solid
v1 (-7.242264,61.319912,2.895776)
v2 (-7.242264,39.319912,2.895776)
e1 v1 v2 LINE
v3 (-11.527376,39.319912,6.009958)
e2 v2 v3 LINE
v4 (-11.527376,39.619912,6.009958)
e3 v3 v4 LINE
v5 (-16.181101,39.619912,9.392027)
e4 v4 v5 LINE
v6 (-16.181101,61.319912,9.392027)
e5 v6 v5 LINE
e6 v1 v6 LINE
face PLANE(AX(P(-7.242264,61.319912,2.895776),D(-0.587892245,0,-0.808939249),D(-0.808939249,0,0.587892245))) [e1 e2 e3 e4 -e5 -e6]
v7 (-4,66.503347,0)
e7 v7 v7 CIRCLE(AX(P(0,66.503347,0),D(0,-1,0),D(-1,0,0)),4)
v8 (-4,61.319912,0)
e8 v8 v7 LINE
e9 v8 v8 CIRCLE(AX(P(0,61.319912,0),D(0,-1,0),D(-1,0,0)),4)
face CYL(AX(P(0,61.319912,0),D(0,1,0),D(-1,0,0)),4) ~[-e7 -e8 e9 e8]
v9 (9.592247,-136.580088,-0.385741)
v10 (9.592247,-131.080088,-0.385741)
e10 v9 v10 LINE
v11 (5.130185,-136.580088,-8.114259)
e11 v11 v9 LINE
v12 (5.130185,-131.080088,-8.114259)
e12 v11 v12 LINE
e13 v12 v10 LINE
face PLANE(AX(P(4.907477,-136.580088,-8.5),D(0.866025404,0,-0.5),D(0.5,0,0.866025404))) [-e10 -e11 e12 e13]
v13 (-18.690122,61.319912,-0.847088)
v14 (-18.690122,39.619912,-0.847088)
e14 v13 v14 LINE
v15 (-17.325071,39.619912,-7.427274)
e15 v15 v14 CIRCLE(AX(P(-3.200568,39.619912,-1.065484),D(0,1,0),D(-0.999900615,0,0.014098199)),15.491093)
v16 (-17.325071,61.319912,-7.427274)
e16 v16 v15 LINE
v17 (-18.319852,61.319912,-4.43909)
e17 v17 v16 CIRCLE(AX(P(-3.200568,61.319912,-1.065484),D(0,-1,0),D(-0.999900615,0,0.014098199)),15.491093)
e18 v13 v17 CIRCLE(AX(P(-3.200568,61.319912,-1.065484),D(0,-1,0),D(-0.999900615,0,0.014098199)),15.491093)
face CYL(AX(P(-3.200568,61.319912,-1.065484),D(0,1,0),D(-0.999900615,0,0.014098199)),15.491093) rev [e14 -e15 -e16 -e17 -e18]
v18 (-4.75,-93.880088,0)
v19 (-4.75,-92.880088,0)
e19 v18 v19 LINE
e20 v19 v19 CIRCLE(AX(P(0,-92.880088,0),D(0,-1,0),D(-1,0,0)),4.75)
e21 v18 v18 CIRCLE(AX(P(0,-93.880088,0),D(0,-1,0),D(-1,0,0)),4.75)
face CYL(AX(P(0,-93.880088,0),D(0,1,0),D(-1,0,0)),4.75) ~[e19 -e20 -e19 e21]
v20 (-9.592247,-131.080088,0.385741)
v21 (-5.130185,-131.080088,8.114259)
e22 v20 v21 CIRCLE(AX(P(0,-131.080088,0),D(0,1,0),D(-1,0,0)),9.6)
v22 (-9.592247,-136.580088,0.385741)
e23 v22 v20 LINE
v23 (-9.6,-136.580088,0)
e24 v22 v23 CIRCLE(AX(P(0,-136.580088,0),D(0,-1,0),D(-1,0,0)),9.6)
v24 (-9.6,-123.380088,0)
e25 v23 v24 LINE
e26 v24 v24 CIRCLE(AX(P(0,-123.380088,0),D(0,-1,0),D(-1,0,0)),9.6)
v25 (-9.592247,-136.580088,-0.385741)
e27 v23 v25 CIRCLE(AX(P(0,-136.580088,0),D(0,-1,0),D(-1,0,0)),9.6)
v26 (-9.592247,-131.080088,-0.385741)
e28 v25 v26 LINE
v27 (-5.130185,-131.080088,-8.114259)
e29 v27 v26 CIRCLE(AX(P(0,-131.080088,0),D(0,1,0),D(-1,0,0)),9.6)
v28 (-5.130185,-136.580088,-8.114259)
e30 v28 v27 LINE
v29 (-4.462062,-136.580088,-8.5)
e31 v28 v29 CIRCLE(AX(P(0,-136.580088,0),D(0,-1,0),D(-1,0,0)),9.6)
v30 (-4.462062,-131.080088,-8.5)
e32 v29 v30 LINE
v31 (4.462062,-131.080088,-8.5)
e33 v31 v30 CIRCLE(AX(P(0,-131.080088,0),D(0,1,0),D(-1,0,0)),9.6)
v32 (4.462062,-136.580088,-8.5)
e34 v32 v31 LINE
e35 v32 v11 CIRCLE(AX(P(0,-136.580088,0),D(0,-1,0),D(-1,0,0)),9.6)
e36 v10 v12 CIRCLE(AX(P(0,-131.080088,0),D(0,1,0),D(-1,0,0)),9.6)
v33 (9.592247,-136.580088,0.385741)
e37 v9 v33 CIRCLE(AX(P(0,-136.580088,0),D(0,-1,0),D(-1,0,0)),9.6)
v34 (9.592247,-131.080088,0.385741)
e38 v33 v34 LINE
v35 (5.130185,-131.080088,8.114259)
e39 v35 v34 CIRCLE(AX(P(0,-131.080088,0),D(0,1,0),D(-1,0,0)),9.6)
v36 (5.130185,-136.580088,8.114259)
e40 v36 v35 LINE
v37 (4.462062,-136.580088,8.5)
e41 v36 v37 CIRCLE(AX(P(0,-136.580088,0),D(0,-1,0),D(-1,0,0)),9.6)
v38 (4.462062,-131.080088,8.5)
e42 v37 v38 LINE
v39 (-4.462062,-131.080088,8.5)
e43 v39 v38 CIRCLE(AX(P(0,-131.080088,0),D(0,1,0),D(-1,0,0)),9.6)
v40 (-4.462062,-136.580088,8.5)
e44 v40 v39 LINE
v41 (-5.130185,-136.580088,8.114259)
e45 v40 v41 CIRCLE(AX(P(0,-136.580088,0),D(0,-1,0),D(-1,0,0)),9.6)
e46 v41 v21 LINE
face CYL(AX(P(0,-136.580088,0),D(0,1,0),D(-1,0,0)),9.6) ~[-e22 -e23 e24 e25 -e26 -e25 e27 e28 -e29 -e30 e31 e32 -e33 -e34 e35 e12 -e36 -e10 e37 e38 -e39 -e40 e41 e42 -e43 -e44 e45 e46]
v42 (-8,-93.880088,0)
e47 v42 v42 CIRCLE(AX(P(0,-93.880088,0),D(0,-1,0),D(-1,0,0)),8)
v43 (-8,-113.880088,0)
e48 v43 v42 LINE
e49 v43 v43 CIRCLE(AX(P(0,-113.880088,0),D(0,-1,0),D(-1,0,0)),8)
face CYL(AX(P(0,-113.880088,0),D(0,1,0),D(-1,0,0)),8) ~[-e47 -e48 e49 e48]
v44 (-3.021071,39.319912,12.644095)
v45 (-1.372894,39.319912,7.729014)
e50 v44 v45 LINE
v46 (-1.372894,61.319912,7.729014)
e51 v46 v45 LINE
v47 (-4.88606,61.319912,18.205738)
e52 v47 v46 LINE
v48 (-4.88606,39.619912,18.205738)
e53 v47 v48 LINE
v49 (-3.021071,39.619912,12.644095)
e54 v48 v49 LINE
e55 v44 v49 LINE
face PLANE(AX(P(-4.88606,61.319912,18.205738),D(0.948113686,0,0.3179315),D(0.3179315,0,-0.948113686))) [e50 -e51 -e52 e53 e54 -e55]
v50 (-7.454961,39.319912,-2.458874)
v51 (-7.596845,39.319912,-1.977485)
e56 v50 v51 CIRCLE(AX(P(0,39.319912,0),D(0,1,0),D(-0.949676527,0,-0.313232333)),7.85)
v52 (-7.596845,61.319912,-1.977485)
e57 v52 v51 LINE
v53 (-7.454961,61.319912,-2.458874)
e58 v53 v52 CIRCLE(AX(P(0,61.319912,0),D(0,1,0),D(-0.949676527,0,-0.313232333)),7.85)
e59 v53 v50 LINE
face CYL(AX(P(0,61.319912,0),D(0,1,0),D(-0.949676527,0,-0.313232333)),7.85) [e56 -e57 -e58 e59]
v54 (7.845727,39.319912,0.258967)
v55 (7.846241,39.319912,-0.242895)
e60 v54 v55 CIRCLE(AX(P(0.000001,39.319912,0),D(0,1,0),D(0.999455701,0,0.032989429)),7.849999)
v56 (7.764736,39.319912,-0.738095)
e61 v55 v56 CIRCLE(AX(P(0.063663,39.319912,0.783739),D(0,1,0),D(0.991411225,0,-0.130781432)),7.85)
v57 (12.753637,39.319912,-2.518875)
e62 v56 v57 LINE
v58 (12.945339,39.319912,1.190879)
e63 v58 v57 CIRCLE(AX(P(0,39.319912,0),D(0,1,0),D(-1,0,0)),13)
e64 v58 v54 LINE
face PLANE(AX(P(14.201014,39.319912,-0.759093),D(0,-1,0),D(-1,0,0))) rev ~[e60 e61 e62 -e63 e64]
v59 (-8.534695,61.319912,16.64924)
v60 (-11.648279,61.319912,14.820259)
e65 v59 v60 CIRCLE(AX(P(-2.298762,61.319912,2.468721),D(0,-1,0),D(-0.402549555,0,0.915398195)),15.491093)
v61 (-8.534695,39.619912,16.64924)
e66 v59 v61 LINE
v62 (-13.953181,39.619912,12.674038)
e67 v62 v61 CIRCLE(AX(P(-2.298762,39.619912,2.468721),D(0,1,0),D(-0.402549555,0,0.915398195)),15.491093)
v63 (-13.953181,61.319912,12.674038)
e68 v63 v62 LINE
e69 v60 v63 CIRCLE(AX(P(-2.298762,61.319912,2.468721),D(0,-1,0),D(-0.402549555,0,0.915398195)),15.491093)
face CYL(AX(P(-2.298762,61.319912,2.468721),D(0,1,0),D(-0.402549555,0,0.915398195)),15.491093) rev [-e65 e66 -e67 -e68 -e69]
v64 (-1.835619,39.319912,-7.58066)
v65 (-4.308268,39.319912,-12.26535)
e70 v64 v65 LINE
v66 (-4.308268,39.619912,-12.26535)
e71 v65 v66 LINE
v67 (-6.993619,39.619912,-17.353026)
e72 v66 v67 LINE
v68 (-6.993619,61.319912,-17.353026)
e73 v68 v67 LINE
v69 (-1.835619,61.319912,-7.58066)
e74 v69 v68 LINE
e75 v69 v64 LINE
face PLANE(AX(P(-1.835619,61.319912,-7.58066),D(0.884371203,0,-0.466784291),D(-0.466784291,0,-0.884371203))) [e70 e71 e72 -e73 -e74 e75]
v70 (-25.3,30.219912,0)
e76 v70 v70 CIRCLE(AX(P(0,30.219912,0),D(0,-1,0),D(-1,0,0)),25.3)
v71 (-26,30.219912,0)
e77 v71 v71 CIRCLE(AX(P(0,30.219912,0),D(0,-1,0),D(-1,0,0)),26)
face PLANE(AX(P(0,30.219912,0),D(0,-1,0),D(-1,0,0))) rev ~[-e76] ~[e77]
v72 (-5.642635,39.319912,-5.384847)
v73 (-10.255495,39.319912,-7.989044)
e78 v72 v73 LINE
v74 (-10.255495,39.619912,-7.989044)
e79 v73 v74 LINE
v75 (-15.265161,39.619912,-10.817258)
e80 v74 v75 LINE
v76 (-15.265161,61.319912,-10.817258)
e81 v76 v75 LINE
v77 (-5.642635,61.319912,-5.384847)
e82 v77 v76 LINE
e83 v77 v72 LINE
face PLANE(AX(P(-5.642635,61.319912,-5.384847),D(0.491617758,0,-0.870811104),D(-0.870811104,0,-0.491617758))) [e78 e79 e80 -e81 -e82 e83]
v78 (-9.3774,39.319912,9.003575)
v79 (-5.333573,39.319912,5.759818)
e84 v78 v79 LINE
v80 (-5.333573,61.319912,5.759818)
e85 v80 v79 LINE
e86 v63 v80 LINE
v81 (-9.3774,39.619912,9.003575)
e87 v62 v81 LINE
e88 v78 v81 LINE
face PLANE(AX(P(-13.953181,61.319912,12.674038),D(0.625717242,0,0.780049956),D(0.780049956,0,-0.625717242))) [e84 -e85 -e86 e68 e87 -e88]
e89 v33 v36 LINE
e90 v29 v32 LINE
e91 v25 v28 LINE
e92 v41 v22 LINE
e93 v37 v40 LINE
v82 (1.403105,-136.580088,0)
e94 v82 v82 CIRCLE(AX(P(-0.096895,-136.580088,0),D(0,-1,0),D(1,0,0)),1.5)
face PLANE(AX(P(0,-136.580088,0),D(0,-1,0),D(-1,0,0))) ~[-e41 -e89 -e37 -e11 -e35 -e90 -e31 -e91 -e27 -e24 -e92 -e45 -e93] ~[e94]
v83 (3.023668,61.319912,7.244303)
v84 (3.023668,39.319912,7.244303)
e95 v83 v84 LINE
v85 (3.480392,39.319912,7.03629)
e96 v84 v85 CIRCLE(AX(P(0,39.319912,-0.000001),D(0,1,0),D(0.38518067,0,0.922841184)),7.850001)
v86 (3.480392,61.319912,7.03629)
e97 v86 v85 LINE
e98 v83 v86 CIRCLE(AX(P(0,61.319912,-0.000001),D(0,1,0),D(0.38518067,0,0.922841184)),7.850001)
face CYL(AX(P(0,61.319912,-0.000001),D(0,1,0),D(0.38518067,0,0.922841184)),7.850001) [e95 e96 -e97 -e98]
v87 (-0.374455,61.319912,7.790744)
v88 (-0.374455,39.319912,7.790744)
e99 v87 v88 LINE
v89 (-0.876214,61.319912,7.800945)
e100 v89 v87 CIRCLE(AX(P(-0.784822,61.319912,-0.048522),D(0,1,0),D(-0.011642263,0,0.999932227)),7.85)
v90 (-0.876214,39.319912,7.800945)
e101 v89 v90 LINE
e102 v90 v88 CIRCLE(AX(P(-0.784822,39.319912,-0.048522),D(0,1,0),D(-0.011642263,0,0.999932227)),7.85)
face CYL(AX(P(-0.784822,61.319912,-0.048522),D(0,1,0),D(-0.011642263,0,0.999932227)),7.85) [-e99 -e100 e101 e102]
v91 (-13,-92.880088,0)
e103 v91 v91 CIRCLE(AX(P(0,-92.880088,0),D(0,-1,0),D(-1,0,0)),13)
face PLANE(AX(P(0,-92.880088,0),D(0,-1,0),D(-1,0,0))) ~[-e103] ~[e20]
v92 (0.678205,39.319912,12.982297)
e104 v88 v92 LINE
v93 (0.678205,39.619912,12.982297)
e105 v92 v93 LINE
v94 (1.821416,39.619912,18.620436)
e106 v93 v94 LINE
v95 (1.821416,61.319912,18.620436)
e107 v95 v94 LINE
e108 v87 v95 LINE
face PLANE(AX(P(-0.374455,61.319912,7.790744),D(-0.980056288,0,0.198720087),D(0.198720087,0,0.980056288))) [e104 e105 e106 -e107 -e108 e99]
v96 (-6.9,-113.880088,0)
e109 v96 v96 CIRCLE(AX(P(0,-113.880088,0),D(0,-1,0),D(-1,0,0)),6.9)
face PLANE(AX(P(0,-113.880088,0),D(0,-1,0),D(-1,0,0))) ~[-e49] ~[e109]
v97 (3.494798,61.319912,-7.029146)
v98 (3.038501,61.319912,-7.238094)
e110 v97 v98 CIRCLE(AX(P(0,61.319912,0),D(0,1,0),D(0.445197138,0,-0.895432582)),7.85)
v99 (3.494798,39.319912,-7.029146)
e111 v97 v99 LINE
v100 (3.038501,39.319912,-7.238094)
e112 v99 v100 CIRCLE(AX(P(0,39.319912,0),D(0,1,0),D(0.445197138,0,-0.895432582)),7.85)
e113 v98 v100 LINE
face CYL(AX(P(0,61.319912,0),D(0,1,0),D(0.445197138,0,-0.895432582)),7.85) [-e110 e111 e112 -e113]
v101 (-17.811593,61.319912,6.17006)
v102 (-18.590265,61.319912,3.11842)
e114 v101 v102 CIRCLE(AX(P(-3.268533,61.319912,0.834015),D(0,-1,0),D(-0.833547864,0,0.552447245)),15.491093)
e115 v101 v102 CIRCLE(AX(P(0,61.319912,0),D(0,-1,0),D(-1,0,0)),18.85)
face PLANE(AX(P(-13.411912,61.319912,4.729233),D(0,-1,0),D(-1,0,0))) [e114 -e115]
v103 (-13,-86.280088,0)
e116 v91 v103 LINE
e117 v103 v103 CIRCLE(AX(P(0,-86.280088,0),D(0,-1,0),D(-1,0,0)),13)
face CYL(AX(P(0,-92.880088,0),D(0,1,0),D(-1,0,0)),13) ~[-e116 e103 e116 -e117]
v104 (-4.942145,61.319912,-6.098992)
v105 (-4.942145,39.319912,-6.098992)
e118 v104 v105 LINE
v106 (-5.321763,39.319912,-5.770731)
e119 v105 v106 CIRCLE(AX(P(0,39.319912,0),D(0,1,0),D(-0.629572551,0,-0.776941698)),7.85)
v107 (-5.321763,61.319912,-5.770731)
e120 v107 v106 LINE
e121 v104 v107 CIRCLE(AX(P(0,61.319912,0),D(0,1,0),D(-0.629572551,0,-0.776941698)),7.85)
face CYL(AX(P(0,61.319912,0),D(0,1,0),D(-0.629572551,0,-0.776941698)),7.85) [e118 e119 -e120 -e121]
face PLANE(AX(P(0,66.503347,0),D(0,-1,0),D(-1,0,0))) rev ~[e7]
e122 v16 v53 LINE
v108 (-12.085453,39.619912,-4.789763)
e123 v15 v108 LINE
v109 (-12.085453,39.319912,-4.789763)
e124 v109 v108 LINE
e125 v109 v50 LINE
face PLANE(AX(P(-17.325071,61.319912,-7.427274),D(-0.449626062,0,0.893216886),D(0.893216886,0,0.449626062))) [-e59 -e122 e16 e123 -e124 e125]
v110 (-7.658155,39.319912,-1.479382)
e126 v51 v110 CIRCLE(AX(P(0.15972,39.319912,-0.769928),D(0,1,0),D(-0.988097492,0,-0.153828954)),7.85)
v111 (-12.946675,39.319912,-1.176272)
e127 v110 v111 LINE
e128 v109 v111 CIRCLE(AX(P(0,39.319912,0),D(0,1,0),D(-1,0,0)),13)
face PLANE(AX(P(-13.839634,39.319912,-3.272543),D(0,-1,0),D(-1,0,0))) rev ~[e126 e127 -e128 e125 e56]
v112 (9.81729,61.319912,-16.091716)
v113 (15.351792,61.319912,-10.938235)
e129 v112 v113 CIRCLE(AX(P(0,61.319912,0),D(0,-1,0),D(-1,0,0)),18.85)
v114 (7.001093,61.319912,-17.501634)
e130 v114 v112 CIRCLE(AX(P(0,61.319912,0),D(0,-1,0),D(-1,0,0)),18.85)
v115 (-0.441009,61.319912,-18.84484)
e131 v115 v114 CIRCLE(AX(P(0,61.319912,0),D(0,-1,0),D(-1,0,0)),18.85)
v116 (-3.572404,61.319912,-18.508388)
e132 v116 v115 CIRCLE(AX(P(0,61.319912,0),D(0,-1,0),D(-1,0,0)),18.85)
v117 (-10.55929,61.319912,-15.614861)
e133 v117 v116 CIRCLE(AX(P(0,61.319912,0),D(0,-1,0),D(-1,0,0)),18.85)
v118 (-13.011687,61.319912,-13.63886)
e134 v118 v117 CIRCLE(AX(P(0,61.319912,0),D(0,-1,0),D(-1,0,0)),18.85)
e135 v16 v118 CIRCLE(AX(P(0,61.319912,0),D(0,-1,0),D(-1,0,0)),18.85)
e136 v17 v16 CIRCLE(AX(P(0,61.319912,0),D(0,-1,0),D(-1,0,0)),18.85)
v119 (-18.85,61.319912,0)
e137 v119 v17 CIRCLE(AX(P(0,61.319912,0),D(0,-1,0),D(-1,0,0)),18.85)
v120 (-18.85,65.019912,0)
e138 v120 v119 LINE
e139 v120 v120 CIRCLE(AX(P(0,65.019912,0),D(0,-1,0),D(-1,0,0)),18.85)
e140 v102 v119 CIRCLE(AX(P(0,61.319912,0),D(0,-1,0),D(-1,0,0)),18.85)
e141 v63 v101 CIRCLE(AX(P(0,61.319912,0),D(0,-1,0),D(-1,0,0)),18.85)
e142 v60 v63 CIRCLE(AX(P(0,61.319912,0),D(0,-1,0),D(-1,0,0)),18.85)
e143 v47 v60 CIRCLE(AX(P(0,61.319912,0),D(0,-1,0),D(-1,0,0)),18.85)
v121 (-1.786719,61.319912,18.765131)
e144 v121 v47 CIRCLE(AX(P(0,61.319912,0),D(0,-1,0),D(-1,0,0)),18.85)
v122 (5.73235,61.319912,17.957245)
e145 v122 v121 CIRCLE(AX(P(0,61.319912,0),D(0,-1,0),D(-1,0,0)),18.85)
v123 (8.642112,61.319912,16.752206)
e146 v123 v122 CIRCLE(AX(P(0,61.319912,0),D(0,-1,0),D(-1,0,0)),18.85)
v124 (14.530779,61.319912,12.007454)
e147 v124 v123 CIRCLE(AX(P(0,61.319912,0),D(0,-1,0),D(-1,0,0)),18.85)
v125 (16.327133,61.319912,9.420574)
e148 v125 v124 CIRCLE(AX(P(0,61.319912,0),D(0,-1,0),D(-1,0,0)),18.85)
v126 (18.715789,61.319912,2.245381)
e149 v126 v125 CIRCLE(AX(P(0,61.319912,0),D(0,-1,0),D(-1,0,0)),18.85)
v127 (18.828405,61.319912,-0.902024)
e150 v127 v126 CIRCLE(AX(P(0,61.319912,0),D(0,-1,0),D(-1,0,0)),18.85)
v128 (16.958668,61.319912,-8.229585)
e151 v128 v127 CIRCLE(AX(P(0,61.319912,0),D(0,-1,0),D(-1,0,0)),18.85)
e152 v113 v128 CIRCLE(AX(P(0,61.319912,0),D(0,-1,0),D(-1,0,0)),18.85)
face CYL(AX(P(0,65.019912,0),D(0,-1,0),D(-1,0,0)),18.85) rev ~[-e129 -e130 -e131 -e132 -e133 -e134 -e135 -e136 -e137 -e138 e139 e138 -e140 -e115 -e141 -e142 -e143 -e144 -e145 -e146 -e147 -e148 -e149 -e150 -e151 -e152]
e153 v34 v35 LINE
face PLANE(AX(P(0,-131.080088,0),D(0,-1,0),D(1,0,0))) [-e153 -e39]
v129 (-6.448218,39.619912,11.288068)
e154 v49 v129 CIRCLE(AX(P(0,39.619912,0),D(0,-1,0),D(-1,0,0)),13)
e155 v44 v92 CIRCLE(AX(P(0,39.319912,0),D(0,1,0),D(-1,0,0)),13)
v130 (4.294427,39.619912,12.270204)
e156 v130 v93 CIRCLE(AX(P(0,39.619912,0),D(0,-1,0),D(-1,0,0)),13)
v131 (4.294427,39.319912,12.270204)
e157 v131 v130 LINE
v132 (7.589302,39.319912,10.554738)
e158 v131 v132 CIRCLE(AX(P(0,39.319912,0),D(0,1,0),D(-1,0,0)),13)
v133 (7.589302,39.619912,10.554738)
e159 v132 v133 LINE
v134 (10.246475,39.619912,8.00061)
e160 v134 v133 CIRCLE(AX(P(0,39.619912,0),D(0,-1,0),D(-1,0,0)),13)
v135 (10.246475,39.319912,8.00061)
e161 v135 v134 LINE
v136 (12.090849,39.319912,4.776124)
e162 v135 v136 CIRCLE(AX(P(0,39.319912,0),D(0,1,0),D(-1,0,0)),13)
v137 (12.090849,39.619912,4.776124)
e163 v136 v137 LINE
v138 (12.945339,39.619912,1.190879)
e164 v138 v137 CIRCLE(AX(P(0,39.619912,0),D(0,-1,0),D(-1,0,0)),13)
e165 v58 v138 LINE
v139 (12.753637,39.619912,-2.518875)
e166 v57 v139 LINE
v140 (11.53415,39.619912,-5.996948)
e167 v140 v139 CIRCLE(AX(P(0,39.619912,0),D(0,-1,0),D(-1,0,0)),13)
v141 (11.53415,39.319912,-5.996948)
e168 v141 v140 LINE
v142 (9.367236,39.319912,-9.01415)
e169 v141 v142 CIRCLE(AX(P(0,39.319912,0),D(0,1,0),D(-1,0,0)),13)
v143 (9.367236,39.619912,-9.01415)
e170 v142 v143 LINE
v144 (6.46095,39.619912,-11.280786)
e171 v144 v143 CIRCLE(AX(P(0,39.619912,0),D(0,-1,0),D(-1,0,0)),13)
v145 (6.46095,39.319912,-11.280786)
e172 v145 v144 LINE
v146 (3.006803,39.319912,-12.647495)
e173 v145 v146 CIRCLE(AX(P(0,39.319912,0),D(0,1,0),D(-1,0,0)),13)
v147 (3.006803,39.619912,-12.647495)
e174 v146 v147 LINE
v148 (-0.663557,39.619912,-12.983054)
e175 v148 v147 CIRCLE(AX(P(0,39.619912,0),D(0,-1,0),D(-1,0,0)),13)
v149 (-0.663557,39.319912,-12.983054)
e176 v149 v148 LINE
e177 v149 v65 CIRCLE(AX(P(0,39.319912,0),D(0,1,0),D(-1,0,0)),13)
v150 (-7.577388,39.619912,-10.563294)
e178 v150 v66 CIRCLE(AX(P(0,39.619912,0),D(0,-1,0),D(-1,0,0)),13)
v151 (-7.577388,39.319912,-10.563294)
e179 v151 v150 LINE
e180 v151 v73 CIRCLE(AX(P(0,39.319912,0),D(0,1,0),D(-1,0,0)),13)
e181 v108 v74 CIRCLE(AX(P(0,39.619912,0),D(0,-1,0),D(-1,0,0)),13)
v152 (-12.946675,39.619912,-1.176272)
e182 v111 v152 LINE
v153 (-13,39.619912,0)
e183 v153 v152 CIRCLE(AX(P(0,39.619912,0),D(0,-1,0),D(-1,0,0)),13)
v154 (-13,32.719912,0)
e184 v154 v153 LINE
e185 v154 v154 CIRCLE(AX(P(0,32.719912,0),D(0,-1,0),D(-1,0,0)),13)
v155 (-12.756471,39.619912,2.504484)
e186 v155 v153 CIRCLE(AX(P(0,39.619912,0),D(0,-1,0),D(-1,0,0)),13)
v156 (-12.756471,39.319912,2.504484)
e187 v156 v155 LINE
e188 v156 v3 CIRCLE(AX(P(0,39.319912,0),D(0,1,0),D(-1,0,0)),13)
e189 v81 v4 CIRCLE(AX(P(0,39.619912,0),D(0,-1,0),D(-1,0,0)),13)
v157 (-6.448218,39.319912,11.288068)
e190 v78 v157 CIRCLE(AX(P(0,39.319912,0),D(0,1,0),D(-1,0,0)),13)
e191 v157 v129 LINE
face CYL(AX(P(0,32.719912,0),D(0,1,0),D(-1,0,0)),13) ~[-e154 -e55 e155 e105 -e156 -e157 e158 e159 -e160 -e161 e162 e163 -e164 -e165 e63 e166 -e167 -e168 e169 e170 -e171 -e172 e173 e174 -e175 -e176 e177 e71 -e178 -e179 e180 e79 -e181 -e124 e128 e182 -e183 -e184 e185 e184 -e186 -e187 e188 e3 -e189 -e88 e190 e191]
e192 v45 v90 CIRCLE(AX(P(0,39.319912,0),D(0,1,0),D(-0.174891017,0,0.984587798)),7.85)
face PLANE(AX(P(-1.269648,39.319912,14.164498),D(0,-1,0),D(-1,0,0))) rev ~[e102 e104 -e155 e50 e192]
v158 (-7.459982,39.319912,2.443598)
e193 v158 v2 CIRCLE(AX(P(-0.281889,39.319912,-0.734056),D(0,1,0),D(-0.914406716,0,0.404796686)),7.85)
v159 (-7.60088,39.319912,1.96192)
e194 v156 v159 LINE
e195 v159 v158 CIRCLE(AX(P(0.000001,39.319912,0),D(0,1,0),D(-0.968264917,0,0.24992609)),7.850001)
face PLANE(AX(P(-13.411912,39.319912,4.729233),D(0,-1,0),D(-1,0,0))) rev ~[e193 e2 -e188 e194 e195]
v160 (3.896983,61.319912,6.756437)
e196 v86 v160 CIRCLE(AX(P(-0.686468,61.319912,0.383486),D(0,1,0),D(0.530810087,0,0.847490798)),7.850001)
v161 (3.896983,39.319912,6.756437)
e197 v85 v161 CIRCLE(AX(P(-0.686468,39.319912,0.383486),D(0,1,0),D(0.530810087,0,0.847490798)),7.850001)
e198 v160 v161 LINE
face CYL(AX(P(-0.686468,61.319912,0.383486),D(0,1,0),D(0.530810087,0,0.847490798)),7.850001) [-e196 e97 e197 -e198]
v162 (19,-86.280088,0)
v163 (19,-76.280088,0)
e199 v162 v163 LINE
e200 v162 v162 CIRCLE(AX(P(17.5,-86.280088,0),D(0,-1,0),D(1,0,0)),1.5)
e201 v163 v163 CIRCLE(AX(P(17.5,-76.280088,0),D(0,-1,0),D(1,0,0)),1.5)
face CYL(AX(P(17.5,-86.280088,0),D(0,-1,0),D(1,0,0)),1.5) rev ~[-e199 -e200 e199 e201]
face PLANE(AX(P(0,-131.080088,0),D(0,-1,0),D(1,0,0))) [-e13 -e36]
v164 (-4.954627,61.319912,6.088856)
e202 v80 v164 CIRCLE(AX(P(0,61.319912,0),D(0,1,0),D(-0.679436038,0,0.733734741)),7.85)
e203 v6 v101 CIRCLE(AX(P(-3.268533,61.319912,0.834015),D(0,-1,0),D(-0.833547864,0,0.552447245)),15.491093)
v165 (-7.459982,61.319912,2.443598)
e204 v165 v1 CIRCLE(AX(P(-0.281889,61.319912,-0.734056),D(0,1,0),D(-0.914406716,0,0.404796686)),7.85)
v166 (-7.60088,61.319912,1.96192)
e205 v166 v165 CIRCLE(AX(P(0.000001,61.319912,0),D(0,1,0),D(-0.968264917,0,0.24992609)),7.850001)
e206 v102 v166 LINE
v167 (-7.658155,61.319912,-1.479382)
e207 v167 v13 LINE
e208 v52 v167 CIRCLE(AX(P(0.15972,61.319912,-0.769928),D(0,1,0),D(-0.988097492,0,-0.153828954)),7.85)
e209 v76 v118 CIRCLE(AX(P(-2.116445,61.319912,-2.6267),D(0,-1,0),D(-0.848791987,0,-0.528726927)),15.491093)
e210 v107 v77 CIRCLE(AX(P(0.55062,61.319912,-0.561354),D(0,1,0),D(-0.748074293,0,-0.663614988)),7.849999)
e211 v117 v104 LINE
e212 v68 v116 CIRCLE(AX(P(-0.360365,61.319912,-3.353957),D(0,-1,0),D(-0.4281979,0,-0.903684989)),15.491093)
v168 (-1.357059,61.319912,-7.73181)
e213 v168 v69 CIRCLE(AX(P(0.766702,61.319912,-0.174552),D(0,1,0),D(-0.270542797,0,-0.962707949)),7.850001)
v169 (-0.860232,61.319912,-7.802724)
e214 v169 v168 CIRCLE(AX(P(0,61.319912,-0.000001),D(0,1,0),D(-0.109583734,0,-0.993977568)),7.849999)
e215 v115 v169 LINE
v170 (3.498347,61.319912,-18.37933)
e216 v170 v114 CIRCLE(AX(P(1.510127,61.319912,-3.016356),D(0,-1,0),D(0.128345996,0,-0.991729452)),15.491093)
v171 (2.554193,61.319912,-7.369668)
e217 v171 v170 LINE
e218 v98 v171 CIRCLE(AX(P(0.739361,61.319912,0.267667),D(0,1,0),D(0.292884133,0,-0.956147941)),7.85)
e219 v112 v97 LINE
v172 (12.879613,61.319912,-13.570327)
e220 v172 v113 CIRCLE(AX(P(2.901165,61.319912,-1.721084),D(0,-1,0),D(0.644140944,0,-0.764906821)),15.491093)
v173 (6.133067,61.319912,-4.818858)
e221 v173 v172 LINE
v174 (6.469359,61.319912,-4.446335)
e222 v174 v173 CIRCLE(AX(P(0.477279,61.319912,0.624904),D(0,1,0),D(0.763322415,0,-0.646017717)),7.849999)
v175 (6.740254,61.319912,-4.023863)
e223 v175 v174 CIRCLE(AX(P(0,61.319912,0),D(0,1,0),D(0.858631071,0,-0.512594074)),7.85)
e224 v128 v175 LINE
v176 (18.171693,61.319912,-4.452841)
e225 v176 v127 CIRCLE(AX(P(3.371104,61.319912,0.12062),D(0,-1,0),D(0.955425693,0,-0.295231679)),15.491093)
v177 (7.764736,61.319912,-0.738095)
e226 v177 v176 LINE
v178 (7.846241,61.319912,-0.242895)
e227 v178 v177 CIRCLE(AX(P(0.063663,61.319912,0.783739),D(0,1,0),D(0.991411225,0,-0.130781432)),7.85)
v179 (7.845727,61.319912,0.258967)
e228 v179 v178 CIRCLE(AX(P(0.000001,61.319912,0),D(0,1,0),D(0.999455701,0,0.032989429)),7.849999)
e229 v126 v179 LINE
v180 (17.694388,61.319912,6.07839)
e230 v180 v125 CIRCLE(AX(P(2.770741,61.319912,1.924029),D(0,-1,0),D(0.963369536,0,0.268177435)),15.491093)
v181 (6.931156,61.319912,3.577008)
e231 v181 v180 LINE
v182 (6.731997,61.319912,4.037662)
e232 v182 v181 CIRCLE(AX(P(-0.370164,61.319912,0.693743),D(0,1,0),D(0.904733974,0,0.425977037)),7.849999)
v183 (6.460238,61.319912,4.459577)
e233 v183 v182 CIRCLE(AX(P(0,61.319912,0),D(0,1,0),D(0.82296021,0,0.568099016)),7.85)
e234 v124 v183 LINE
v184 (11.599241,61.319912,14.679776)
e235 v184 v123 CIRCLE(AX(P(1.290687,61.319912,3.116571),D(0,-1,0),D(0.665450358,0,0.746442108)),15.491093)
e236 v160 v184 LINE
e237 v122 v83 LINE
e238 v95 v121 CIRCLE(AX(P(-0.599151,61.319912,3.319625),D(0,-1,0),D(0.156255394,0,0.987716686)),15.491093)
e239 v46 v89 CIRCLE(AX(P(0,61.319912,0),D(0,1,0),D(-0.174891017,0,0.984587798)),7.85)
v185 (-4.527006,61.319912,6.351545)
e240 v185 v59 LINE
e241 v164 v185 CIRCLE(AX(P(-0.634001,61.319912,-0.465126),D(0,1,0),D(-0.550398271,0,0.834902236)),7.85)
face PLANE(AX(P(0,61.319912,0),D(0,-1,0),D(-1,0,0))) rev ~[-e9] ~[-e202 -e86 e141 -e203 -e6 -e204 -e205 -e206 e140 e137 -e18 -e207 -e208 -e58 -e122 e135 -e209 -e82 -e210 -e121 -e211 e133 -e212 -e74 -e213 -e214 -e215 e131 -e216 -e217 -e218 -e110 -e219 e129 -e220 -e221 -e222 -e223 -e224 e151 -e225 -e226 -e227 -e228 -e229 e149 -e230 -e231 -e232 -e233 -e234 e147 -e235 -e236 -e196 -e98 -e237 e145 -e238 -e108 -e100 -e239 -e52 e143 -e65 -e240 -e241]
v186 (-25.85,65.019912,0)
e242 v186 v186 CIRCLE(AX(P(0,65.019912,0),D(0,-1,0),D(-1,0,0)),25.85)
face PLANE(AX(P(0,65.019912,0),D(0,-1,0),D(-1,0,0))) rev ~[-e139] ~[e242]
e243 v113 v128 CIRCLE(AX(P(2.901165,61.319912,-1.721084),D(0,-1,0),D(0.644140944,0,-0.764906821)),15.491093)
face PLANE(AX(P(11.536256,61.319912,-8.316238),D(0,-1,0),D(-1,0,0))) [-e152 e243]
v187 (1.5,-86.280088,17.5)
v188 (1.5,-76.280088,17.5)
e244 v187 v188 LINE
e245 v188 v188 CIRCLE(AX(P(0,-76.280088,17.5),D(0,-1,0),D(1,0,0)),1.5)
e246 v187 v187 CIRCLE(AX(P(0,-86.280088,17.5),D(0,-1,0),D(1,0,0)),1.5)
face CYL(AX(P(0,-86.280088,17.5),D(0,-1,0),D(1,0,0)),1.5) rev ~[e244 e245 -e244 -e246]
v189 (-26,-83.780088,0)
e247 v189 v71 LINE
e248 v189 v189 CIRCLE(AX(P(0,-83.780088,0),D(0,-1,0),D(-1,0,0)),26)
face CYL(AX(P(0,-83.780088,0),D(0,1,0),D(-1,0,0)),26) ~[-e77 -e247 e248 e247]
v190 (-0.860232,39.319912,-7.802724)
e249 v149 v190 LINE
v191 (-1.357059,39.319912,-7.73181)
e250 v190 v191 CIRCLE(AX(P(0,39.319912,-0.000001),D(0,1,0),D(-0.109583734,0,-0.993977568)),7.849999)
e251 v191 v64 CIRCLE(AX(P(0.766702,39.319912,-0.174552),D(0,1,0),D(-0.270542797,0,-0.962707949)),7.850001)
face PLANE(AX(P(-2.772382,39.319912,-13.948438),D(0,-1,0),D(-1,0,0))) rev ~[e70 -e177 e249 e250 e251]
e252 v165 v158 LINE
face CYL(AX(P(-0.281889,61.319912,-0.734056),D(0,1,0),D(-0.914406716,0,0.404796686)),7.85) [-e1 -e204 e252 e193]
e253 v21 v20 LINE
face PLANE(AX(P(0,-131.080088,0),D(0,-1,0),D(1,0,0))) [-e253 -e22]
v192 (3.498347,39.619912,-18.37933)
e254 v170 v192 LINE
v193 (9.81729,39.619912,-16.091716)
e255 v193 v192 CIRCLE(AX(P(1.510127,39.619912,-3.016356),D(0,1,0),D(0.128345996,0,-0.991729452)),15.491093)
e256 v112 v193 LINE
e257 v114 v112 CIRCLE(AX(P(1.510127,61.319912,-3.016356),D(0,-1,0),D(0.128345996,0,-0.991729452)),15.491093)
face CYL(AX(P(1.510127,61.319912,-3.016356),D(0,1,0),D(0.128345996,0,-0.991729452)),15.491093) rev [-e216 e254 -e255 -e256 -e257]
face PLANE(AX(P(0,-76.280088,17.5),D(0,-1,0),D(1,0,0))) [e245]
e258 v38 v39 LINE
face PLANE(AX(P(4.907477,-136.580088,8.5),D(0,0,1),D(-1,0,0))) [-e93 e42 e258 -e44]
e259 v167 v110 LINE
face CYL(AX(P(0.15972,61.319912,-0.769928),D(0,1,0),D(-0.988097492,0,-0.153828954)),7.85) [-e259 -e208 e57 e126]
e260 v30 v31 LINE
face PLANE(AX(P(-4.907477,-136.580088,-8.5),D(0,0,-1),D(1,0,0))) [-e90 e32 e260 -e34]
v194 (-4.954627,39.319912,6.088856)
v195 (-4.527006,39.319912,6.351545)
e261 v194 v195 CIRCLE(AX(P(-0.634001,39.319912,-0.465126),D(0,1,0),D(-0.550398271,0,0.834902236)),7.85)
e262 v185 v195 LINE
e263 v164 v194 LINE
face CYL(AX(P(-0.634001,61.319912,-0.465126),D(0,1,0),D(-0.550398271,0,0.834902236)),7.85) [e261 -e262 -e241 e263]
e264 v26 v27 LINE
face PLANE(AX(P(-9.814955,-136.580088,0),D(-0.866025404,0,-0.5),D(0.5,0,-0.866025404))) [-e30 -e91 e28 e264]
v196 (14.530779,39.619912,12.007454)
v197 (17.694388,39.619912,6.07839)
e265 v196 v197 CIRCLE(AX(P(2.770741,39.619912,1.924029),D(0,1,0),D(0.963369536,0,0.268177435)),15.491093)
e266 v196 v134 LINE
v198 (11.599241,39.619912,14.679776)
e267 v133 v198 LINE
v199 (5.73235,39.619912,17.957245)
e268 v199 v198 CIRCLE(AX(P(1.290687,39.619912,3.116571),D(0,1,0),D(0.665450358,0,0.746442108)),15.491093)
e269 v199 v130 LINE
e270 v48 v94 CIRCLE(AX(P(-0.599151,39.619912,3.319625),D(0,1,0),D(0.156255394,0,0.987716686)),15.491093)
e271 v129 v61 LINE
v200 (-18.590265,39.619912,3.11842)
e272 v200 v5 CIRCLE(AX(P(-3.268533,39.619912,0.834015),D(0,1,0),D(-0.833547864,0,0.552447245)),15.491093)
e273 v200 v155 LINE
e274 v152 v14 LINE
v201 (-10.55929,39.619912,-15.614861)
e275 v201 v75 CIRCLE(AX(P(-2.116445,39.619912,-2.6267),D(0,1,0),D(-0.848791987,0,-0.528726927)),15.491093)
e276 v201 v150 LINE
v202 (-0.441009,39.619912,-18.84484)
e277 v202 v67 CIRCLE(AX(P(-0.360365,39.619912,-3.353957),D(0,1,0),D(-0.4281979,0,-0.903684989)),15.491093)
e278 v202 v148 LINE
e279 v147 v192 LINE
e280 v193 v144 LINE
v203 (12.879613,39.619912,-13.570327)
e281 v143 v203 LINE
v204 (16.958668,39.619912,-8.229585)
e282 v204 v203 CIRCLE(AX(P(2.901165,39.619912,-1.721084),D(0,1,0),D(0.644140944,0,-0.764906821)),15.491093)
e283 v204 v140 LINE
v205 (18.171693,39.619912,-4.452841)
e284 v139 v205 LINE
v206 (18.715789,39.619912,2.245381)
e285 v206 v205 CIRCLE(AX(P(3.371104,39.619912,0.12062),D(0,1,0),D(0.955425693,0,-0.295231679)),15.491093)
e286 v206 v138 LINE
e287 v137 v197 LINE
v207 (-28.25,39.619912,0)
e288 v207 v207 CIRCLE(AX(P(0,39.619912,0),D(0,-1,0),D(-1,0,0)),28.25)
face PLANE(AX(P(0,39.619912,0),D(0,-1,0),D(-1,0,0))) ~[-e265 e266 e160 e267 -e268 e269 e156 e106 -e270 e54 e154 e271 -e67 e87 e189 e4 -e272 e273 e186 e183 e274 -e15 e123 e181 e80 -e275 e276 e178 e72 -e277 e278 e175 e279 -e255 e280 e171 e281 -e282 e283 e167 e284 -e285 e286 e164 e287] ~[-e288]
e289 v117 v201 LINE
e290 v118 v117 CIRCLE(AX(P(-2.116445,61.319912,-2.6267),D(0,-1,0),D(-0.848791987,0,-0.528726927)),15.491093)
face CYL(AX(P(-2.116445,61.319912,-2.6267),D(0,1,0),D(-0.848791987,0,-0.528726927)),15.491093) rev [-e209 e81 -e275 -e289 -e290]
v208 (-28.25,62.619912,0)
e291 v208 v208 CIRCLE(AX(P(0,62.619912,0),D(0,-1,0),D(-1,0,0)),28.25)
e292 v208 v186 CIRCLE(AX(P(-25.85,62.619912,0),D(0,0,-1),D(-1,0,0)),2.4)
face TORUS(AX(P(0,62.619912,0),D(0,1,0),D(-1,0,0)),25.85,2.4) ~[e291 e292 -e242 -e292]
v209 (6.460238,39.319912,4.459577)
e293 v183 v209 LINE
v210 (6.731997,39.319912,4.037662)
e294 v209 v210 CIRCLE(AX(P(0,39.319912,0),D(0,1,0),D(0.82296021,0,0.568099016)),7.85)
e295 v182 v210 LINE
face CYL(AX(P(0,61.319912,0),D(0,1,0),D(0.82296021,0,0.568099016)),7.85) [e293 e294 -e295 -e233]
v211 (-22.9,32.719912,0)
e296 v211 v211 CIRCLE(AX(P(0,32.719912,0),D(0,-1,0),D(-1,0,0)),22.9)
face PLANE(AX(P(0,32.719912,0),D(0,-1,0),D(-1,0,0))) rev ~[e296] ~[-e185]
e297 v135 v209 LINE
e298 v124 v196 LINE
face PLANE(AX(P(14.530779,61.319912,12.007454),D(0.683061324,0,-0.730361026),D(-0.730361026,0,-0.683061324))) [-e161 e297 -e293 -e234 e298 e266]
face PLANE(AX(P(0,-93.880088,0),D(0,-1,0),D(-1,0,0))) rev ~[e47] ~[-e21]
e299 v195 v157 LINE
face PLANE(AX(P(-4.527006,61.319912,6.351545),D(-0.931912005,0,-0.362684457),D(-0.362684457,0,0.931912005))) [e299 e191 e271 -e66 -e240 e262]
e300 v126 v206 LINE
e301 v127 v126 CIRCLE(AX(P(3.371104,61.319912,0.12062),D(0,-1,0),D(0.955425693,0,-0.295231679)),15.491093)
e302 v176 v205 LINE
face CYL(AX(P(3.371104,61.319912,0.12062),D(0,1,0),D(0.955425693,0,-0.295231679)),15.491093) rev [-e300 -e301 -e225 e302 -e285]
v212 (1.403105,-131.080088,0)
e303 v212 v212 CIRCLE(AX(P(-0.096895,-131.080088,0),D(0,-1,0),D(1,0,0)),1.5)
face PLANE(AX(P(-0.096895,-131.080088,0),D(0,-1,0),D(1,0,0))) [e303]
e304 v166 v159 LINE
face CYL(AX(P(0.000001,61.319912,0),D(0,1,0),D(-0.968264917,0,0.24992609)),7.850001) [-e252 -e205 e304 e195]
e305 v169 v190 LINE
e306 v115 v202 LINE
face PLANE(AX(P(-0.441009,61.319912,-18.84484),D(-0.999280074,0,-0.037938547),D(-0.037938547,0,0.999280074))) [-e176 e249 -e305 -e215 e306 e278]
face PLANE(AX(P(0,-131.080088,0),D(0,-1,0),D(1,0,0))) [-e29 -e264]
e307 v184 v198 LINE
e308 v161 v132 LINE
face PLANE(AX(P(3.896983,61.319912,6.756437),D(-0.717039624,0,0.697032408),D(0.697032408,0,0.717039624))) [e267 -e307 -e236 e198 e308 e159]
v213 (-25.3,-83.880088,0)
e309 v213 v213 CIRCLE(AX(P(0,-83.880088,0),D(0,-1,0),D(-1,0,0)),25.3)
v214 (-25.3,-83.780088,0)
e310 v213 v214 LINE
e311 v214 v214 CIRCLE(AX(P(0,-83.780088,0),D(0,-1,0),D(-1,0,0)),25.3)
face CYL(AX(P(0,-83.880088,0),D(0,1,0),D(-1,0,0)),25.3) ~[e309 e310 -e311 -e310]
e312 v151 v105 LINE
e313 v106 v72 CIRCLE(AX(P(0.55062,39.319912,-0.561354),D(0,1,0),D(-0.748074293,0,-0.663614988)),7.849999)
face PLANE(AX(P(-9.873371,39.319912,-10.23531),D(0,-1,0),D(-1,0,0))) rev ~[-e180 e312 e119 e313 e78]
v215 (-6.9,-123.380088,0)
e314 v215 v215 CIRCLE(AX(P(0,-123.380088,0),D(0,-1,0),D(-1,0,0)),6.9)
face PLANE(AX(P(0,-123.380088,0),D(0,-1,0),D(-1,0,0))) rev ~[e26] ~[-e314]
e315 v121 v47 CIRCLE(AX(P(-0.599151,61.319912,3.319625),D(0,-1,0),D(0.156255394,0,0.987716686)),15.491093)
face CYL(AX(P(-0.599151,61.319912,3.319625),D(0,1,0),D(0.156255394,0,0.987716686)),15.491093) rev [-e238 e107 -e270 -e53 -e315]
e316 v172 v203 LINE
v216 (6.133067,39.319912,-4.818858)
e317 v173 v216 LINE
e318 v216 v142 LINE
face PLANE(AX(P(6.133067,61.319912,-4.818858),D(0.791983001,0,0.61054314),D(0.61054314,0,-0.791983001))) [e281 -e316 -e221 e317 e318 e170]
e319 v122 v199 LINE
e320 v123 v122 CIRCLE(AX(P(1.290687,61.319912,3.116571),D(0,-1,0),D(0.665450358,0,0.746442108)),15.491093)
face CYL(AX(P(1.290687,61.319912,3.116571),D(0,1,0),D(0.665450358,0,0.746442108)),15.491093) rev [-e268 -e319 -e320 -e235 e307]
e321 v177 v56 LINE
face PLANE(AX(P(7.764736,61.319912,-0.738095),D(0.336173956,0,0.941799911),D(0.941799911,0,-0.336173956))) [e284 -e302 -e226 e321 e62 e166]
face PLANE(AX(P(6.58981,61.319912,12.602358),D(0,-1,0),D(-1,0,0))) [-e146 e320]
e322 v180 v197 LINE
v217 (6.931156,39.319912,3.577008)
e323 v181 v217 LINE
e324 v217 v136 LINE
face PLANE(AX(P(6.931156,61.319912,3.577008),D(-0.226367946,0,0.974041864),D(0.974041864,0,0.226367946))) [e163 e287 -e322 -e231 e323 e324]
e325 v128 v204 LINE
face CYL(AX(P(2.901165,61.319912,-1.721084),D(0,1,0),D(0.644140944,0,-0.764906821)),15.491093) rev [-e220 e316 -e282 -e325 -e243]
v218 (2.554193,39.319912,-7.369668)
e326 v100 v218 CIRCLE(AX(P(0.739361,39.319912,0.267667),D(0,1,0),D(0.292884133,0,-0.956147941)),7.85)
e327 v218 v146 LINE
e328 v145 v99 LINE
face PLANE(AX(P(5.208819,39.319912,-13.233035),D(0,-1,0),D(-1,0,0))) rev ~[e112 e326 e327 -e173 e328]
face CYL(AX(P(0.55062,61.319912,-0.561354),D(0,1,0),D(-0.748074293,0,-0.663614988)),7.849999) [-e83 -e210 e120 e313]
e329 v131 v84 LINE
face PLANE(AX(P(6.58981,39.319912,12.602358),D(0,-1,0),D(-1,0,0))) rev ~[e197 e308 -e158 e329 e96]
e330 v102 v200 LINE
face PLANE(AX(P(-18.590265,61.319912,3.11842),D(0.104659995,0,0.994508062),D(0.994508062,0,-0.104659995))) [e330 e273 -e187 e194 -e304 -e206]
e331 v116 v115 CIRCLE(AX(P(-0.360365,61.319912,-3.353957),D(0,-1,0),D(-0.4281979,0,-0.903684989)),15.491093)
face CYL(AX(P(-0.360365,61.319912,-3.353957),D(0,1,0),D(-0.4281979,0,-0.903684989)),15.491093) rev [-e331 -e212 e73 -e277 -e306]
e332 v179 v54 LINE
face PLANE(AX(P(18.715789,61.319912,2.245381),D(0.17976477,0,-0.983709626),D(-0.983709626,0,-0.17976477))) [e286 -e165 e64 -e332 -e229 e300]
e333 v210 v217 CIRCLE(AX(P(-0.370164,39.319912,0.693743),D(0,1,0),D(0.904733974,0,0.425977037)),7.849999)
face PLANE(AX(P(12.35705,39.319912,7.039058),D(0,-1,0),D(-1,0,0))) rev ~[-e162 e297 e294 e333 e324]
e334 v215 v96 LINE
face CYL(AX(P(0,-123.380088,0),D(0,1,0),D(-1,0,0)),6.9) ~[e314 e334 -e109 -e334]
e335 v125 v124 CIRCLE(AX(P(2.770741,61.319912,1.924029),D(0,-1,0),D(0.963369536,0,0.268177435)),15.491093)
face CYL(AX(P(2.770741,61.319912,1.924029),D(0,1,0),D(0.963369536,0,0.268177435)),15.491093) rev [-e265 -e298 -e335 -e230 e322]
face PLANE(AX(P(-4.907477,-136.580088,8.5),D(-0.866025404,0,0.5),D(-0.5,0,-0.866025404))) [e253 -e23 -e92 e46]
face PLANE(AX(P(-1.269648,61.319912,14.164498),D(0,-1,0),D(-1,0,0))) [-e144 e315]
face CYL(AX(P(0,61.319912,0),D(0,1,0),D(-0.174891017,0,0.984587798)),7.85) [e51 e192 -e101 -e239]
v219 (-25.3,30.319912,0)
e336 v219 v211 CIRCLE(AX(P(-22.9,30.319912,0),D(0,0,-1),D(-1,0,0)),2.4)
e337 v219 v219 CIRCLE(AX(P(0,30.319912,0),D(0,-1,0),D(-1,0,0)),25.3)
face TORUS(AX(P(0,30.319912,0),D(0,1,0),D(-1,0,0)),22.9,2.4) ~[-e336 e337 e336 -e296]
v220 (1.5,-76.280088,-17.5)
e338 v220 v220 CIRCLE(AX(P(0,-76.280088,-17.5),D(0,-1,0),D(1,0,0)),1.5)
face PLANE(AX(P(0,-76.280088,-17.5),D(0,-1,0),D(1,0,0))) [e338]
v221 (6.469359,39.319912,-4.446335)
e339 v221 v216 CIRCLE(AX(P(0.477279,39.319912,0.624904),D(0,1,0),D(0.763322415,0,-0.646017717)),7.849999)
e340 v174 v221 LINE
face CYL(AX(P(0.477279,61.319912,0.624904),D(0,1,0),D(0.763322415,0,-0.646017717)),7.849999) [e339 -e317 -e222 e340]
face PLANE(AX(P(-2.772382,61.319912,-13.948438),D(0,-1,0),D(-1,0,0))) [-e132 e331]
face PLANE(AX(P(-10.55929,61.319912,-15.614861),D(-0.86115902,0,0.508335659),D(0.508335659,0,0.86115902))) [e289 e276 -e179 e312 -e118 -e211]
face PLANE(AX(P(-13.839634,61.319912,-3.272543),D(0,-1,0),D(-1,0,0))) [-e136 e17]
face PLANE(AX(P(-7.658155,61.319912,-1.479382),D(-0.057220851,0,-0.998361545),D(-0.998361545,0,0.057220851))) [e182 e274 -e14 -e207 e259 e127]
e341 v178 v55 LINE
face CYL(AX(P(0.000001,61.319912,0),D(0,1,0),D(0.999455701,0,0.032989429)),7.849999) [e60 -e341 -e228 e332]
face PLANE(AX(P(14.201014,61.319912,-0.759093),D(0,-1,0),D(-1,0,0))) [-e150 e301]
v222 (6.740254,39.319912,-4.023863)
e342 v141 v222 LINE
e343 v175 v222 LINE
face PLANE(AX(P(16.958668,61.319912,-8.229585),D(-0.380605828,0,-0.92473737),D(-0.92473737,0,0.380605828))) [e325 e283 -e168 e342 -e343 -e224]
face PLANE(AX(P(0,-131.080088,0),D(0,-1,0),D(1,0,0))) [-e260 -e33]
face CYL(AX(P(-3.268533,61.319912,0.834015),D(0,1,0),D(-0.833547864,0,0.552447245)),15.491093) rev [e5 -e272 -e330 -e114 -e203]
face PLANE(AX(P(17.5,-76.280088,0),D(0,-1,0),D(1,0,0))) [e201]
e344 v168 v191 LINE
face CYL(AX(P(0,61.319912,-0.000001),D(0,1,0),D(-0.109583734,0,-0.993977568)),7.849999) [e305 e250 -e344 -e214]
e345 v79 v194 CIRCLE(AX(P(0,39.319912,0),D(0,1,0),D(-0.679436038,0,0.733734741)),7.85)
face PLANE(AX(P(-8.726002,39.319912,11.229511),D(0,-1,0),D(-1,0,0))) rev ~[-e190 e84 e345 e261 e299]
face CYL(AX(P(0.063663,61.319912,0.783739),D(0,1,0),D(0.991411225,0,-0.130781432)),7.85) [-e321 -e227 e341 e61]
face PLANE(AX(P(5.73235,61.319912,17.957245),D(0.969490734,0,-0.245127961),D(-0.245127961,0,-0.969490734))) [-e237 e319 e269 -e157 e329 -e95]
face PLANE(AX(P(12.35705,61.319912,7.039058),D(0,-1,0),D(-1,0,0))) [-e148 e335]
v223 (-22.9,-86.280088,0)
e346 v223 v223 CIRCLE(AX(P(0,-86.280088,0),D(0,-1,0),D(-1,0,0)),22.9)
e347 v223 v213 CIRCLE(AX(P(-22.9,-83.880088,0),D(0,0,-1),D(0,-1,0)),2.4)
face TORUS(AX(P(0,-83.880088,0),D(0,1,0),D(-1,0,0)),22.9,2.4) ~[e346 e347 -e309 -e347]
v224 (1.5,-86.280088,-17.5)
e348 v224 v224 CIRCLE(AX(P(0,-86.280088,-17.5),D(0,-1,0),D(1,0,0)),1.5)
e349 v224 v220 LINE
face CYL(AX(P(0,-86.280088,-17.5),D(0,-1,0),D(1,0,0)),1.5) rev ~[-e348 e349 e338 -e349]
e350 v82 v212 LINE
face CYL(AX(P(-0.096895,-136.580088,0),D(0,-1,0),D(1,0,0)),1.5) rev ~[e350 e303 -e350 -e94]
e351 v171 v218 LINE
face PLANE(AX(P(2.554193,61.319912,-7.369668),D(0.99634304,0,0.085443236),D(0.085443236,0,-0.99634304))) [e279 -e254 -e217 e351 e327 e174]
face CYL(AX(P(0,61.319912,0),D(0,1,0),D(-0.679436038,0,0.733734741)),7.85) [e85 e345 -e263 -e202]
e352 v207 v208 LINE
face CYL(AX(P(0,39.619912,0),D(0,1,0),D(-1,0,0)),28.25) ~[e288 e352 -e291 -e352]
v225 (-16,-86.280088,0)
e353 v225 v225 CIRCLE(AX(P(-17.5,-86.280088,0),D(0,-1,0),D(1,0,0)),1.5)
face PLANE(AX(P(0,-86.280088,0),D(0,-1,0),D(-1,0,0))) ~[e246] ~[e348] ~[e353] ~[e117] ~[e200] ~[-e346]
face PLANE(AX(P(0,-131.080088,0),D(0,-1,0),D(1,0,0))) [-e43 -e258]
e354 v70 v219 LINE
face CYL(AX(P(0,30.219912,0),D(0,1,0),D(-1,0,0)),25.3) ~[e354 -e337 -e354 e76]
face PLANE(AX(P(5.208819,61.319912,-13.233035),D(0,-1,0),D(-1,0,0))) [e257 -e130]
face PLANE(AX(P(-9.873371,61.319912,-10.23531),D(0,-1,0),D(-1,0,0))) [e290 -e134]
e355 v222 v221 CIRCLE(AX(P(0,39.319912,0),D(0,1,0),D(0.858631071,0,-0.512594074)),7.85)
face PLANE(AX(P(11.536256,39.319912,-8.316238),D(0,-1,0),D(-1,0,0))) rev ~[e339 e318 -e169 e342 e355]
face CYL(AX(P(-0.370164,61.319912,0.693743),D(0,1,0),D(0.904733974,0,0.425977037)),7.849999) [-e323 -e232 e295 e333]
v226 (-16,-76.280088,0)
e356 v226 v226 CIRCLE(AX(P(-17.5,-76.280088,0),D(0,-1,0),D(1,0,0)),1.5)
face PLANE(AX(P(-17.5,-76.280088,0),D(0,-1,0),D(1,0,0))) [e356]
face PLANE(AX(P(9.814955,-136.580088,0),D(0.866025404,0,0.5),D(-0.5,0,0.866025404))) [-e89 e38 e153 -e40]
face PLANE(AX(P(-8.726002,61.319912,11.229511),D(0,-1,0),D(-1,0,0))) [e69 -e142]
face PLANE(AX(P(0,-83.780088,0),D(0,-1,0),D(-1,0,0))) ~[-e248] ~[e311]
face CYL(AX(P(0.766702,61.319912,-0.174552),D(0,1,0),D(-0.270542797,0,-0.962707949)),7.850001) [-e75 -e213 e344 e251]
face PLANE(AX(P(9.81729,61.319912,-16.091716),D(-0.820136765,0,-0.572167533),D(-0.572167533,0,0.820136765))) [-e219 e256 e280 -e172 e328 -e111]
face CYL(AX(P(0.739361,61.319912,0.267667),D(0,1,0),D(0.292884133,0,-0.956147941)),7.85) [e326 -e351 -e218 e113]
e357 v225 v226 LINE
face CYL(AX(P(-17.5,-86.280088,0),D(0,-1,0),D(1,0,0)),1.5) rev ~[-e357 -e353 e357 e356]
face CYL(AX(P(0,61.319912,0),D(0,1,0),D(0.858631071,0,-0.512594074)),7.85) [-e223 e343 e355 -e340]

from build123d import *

# Parameters (mm, degrees)
CORTAR_EXTRUIR1_DEPTH = 22
CROQUIS5_OUTSIDE_W    = 102.148
CROQUIS5_OUTSIDE_H    = 102.148
CROQUIS5_OUTSIDE_R    = 1.5
CORTAR_EXTRUIR2_DEPTH = 5.5
CROQUIS6_R            = 1.5
CORTAR_EXTRUIR3_DEPTH = 10


with BuildPart() as part:
    # Croquis3 → Revolución1 (revolve)
    with BuildSketch(Plane.XY):
        with BuildLine():
            Line((-25.85, 65.019911999), (-18.85, 65.019911999))
            Line((-18.85, 65.019911999), (-18.85, 61.319911999))
            Line((-18.85, 61.319911999), (-4, 61.319911999))
            Line((-4, 61.319911999), (-4, 66.503346961))
            Line((-4, 66.503346961), (0, 66.503346961))
            Line((0, 66.503346961), (0, -136.580088001))
            Line((0, -136.580088001), (-9.6, -136.580088001))
            Line((-9.6, -136.580088001), (-9.6, -123.380088001))
            Line((-9.6, -123.380088001), (-6.9, -123.380088001))
            Line((-6.9, -123.380088001), (-6.9, -113.880088001))
            Line((-6.9, -113.880088001), (-8, -113.880088001))
            Line((-8, -113.880088001), (-8, -93.880088001))
            Line((-8, -93.880088001), (-4.75, -93.880088001))
            Line((-4.75, -93.880088001), (-4.75, -92.880088001))
            Line((-4.75, -92.880088001), (-13, -92.880088001))
            Line((-13, -92.880088001), (-13, -86.280088001))
            Line((-13, -86.280088001), (-22.9, -86.280088001))
            ThreePointArc((-22.9, -86.280088001), (-24.597056275, -85.577144276), (-25.3, -83.880088001))
            Line((-25.3, -83.880088001), (-25.3, -83.780088001))
            Line((-25.3, -83.780088001), (-26, -83.780088001))
            Line((-26, -83.780088001), (-26, 30.219911999))
            Line((-26, 30.219911999), (-25.3, 30.219911999))
            Line((-25.3, 30.219911999), (-25.3, 30.319911999))
            ThreePointArc((-25.3, 30.319911999), (-24.597056275, 32.016968273), (-22.9, 32.719911999))
            Line((-22.9, 32.719911999), (-13, 32.719911999))
            Line((-13, 32.719911999), (-13, 39.619911999))
            Line((-13, 39.619911999), (-28.25, 39.619911999))
            Line((-28.25, 39.619911999), (-28.25, 62.619911999))
            ThreePointArc((-28.25, 62.619911999), (-27.547056275, 64.316968273), (-25.85, 65.019911999))
        make_face()
    revolve(axis=Axis((0, 66.503346961, 0), (0, -1, 0)))

    # Croquis4 → Cortar-Extruir1 (cut)
    with BuildSketch(Plane(origin=(0, 61.319911999, 0), x_dir=(1, 0, 0), z_dir=(0, 1, 0))):
        with BuildLine():
            Line((-7.658154871, 1.479382123), (-18.690121594, 0.847087609))
            ThreePointArc((-18.690121594, 0.847087609), (-18.36871906, 4.212095184), (-17.32507143, 7.427274058))
            Line((-17.32507143, 7.427274058), (-7.454960737, 2.458873808))
            ThreePointArc((-7.454960737, 2.458873808), (-7.52975075, 2.219313777), (-7.596844825, 1.97748545))
            ThreePointArc((-7.596844825, 1.97748545), (-7.631481428, 1.728923867), (-7.658154871, 1.479382123))
        make_face()
        with BuildLine():
            Line((-5.64263548, 5.384846547), (-15.265160683, 10.817258061))
            ThreePointArc((-15.265160683, 10.817258061), (-13.175519219, 13.474319242), (-10.559290029, 15.614861321))
            Line((-10.559290029, 15.614861321), (-4.942144512, 6.098992345))
            ThreePointArc((-4.942144512, 6.098992345), (-5.134577805, 5.937896156), (-5.321763197, 5.770731017))
            ThreePointArc((-5.321763197, 5.770731017), (-5.485283899, 5.580353669), (-5.64263548, 5.384846547))
        make_face()
        with BuildLine():
            Line((-1.835619193, 7.58066024), (-6.993619113, 17.353025509))
            ThreePointArc((-6.993619113, 17.353025509), (-3.79918512, 18.458542146), (-0.441008652, 18.844840444))
            Line((-0.441008652, 18.844840444), (-0.860232323, 7.802723906))
            ThreePointArc((-0.860232323, 7.802723906), (-1.109212687, 7.771238461), (-1.357059356, 7.73181026))
            ThreePointArc((-1.357059356, 7.73181026), (-1.597547489, 7.660060609), (-1.835619193, 7.58066024))
        make_face()
        with BuildLine():
            Line((2.554193218, 7.369667869), (3.498347111, 18.379329969))
            ThreePointArc((3.498347111, 18.379329969), (6.78336341, 17.58230834), (9.817289856, 16.091715878))
            Line((9.817289856, 16.091715878), (3.49479755, 7.029145758))
            ThreePointArc((3.49479755, 7.029145758), (3.268319623, 7.137267463), (3.038501242, 7.238094376))
            ThreePointArc((3.038501242, 7.238094376), (2.79739896, 7.30775243), (2.554193218, 7.369667869))
        make_face()
        with BuildLine():
            Line((6.133067329, 4.818858021), (12.879612845, 13.570327026))
            ThreePointArc((12.879612845, 13.570327026), (15.212241987, 11.123815867), (16.9586682, 8.229585218))
            Line((16.9586682, 8.229585218), (6.740253894, 4.023863497))
            ThreePointArc((6.740253894, 4.023863497), (6.608183545, 4.237264476), (6.469359165, 4.44633467))
            ThreePointArc((6.469359165, 4.44633467), (6.304191006, 4.635284488), (6.133067329, 4.818858021))
        make_face()
        with BuildLine():
            Line((7.764735898, 0.7380948), (18.171692504, 4.452841136))
            ThreePointArc((18.171692504, 4.452841136), (18.811341218, 1.133590454), (18.715789216, -2.2453806))
            Line((18.715789216, -2.2453806), (7.845727251, -0.258966992))
            ThreePointArc((7.845727251, -0.258966992), (7.849995883, -0.008040044), (7.846241263, 0.242895122))
            ThreePointArc((7.846241263, 0.242895122), (7.80944695, 0.491146473), (7.764735898, 0.7380948))
        make_face()
        with BuildLine():
            Line((6.931155682, -3.577008305), (17.694388188, -6.078390353))
            ThreePointArc((17.694388188, -6.078390353), (16.437972526, -9.21654192), (14.530779394, -12.007453943))
            Line((14.530779394, -12.007453943), (6.460237641, -4.459577292))
            ThreePointArc((6.460237641, -4.459577292), (6.599489993, -4.250791906), (6.731997199, -4.037661911))
            ThreePointArc((6.731997199, -4.037661911), (6.835258667, -3.808927078), (6.931155682, -3.577008305))
        make_face()
        with BuildLine():
            Line((3.89698251, -6.756436547), (11.599240645, -14.679775853))
            ThreePointArc((11.599240645, -14.679775853), (8.845663703, -16.640487354), (5.732349785, -17.9572455))
            Line((5.732349785, -17.9572455), (3.023668226, -7.244303311))
            ThreePointArc((3.023668226, -7.244303311), (3.25369266, -7.143947373), (3.480391591, -7.036289816))
            ThreePointArc((3.480391591, -7.036289816), (3.690924052, -6.899693193), (3.89698251, -6.756436547))
        make_face()
        with BuildLine():
            Line((-0.374455074, -7.790743924), (1.821416153, -18.620436241))
            ThreePointArc((1.821416153, -18.620436241), (-1.555080846, -18.78119563), (-4.886060379, -18.20573849))
            Line((-4.886060379, -18.20573849), (-1.372894487, -7.729014215))
            ThreePointArc((-1.372894487, -7.729014215), (-1.125129102, -7.768950026), (-0.876213757, -7.80094542))
            ThreePointArc((-0.876213757, -7.80094542), (-0.62525287, -7.799855471), (-0.374455074, -7.790743924))
        make_face()
        with BuildLine():
            Line((-4.527005818, -6.351545152), (-8.534695097, -16.649239689))
            ThreePointArc((-8.534695097, -16.649239689), (-11.462098214, -14.959006995), (-13.953180895, -12.674038145))
            Line((-13.953180895, -12.674038145), (-5.3335729, -5.759817716))
            ThreePointArc((-5.3335729, -5.759817716), (-5.146730325, -5.927365938), (-4.954627427, -6.088855973))
            ThreePointArc((-4.954627427, -6.088855973), (-4.742916424, -6.223618748), (-4.527005818, -6.351545152))
        make_face()
        with BuildLine():
            Line((-7.242264201, -2.895775672), (-16.181100958, -9.392027173))
            ThreePointArc((-16.181100958, -9.392027173), (-17.729980386, -6.387439334), (-18.590265066, -3.11842024))
            Line((-18.590265066, -3.11842024), (-7.600879603, -1.961919789))
            ThreePointArc((-7.600879603, -1.961919789), (-7.534281034, -2.203885046), (-7.459981898, -2.443597775))
            ThreePointArc((-7.459981898, -2.443597775), (-7.354737525, -2.671427046), (-7.242264201, -2.895775672))
        make_face()
    extrude(amount=-CORTAR_EXTRUIR1_DEPTH, mode=Mode.SUBTRACT)

    # Croquis5 outside → Cortar-Extruir2 (cut)
    with BuildSketch(Plane.XZ.offset(136.580088001)):
        Rectangle(CROQUIS5_OUTSIDE_W, CROQUIS5_OUTSIDE_H)
        Polygon((9.814954576, 0), (4.907477288, 8.5), (-4.907477288, 8.5), (-9.814954576, 0), (-4.907477288, -8.5), (4.907477288, -8.5), align=None, mode=Mode.SUBTRACT)
        with Locations((-0.096894906, 0)):
            Circle(CROQUIS5_OUTSIDE_R)
    extrude(amount=-CORTAR_EXTRUIR2_DEPTH, mode=Mode.SUBTRACT)

    # Croquis6 → Cortar-Extruir3 (cut)
    with BuildSketch(Plane.XZ.offset(86.280088001)):
        with Locations((0, 17.5)):
            Circle(CROQUIS6_R)
        with Locations((17.5, 0)):
            Circle(CROQUIS6_R)
        with Locations((0, -17.5)):
            Circle(CROQUIS6_R)
        with Locations((-17.5, 0)):
            Circle(CROQUIS6_R)
    extrude(amount=-CORTAR_EXTRUIR3_DEPTH, mode=Mode.SUBTRACT)


solid = part.part
